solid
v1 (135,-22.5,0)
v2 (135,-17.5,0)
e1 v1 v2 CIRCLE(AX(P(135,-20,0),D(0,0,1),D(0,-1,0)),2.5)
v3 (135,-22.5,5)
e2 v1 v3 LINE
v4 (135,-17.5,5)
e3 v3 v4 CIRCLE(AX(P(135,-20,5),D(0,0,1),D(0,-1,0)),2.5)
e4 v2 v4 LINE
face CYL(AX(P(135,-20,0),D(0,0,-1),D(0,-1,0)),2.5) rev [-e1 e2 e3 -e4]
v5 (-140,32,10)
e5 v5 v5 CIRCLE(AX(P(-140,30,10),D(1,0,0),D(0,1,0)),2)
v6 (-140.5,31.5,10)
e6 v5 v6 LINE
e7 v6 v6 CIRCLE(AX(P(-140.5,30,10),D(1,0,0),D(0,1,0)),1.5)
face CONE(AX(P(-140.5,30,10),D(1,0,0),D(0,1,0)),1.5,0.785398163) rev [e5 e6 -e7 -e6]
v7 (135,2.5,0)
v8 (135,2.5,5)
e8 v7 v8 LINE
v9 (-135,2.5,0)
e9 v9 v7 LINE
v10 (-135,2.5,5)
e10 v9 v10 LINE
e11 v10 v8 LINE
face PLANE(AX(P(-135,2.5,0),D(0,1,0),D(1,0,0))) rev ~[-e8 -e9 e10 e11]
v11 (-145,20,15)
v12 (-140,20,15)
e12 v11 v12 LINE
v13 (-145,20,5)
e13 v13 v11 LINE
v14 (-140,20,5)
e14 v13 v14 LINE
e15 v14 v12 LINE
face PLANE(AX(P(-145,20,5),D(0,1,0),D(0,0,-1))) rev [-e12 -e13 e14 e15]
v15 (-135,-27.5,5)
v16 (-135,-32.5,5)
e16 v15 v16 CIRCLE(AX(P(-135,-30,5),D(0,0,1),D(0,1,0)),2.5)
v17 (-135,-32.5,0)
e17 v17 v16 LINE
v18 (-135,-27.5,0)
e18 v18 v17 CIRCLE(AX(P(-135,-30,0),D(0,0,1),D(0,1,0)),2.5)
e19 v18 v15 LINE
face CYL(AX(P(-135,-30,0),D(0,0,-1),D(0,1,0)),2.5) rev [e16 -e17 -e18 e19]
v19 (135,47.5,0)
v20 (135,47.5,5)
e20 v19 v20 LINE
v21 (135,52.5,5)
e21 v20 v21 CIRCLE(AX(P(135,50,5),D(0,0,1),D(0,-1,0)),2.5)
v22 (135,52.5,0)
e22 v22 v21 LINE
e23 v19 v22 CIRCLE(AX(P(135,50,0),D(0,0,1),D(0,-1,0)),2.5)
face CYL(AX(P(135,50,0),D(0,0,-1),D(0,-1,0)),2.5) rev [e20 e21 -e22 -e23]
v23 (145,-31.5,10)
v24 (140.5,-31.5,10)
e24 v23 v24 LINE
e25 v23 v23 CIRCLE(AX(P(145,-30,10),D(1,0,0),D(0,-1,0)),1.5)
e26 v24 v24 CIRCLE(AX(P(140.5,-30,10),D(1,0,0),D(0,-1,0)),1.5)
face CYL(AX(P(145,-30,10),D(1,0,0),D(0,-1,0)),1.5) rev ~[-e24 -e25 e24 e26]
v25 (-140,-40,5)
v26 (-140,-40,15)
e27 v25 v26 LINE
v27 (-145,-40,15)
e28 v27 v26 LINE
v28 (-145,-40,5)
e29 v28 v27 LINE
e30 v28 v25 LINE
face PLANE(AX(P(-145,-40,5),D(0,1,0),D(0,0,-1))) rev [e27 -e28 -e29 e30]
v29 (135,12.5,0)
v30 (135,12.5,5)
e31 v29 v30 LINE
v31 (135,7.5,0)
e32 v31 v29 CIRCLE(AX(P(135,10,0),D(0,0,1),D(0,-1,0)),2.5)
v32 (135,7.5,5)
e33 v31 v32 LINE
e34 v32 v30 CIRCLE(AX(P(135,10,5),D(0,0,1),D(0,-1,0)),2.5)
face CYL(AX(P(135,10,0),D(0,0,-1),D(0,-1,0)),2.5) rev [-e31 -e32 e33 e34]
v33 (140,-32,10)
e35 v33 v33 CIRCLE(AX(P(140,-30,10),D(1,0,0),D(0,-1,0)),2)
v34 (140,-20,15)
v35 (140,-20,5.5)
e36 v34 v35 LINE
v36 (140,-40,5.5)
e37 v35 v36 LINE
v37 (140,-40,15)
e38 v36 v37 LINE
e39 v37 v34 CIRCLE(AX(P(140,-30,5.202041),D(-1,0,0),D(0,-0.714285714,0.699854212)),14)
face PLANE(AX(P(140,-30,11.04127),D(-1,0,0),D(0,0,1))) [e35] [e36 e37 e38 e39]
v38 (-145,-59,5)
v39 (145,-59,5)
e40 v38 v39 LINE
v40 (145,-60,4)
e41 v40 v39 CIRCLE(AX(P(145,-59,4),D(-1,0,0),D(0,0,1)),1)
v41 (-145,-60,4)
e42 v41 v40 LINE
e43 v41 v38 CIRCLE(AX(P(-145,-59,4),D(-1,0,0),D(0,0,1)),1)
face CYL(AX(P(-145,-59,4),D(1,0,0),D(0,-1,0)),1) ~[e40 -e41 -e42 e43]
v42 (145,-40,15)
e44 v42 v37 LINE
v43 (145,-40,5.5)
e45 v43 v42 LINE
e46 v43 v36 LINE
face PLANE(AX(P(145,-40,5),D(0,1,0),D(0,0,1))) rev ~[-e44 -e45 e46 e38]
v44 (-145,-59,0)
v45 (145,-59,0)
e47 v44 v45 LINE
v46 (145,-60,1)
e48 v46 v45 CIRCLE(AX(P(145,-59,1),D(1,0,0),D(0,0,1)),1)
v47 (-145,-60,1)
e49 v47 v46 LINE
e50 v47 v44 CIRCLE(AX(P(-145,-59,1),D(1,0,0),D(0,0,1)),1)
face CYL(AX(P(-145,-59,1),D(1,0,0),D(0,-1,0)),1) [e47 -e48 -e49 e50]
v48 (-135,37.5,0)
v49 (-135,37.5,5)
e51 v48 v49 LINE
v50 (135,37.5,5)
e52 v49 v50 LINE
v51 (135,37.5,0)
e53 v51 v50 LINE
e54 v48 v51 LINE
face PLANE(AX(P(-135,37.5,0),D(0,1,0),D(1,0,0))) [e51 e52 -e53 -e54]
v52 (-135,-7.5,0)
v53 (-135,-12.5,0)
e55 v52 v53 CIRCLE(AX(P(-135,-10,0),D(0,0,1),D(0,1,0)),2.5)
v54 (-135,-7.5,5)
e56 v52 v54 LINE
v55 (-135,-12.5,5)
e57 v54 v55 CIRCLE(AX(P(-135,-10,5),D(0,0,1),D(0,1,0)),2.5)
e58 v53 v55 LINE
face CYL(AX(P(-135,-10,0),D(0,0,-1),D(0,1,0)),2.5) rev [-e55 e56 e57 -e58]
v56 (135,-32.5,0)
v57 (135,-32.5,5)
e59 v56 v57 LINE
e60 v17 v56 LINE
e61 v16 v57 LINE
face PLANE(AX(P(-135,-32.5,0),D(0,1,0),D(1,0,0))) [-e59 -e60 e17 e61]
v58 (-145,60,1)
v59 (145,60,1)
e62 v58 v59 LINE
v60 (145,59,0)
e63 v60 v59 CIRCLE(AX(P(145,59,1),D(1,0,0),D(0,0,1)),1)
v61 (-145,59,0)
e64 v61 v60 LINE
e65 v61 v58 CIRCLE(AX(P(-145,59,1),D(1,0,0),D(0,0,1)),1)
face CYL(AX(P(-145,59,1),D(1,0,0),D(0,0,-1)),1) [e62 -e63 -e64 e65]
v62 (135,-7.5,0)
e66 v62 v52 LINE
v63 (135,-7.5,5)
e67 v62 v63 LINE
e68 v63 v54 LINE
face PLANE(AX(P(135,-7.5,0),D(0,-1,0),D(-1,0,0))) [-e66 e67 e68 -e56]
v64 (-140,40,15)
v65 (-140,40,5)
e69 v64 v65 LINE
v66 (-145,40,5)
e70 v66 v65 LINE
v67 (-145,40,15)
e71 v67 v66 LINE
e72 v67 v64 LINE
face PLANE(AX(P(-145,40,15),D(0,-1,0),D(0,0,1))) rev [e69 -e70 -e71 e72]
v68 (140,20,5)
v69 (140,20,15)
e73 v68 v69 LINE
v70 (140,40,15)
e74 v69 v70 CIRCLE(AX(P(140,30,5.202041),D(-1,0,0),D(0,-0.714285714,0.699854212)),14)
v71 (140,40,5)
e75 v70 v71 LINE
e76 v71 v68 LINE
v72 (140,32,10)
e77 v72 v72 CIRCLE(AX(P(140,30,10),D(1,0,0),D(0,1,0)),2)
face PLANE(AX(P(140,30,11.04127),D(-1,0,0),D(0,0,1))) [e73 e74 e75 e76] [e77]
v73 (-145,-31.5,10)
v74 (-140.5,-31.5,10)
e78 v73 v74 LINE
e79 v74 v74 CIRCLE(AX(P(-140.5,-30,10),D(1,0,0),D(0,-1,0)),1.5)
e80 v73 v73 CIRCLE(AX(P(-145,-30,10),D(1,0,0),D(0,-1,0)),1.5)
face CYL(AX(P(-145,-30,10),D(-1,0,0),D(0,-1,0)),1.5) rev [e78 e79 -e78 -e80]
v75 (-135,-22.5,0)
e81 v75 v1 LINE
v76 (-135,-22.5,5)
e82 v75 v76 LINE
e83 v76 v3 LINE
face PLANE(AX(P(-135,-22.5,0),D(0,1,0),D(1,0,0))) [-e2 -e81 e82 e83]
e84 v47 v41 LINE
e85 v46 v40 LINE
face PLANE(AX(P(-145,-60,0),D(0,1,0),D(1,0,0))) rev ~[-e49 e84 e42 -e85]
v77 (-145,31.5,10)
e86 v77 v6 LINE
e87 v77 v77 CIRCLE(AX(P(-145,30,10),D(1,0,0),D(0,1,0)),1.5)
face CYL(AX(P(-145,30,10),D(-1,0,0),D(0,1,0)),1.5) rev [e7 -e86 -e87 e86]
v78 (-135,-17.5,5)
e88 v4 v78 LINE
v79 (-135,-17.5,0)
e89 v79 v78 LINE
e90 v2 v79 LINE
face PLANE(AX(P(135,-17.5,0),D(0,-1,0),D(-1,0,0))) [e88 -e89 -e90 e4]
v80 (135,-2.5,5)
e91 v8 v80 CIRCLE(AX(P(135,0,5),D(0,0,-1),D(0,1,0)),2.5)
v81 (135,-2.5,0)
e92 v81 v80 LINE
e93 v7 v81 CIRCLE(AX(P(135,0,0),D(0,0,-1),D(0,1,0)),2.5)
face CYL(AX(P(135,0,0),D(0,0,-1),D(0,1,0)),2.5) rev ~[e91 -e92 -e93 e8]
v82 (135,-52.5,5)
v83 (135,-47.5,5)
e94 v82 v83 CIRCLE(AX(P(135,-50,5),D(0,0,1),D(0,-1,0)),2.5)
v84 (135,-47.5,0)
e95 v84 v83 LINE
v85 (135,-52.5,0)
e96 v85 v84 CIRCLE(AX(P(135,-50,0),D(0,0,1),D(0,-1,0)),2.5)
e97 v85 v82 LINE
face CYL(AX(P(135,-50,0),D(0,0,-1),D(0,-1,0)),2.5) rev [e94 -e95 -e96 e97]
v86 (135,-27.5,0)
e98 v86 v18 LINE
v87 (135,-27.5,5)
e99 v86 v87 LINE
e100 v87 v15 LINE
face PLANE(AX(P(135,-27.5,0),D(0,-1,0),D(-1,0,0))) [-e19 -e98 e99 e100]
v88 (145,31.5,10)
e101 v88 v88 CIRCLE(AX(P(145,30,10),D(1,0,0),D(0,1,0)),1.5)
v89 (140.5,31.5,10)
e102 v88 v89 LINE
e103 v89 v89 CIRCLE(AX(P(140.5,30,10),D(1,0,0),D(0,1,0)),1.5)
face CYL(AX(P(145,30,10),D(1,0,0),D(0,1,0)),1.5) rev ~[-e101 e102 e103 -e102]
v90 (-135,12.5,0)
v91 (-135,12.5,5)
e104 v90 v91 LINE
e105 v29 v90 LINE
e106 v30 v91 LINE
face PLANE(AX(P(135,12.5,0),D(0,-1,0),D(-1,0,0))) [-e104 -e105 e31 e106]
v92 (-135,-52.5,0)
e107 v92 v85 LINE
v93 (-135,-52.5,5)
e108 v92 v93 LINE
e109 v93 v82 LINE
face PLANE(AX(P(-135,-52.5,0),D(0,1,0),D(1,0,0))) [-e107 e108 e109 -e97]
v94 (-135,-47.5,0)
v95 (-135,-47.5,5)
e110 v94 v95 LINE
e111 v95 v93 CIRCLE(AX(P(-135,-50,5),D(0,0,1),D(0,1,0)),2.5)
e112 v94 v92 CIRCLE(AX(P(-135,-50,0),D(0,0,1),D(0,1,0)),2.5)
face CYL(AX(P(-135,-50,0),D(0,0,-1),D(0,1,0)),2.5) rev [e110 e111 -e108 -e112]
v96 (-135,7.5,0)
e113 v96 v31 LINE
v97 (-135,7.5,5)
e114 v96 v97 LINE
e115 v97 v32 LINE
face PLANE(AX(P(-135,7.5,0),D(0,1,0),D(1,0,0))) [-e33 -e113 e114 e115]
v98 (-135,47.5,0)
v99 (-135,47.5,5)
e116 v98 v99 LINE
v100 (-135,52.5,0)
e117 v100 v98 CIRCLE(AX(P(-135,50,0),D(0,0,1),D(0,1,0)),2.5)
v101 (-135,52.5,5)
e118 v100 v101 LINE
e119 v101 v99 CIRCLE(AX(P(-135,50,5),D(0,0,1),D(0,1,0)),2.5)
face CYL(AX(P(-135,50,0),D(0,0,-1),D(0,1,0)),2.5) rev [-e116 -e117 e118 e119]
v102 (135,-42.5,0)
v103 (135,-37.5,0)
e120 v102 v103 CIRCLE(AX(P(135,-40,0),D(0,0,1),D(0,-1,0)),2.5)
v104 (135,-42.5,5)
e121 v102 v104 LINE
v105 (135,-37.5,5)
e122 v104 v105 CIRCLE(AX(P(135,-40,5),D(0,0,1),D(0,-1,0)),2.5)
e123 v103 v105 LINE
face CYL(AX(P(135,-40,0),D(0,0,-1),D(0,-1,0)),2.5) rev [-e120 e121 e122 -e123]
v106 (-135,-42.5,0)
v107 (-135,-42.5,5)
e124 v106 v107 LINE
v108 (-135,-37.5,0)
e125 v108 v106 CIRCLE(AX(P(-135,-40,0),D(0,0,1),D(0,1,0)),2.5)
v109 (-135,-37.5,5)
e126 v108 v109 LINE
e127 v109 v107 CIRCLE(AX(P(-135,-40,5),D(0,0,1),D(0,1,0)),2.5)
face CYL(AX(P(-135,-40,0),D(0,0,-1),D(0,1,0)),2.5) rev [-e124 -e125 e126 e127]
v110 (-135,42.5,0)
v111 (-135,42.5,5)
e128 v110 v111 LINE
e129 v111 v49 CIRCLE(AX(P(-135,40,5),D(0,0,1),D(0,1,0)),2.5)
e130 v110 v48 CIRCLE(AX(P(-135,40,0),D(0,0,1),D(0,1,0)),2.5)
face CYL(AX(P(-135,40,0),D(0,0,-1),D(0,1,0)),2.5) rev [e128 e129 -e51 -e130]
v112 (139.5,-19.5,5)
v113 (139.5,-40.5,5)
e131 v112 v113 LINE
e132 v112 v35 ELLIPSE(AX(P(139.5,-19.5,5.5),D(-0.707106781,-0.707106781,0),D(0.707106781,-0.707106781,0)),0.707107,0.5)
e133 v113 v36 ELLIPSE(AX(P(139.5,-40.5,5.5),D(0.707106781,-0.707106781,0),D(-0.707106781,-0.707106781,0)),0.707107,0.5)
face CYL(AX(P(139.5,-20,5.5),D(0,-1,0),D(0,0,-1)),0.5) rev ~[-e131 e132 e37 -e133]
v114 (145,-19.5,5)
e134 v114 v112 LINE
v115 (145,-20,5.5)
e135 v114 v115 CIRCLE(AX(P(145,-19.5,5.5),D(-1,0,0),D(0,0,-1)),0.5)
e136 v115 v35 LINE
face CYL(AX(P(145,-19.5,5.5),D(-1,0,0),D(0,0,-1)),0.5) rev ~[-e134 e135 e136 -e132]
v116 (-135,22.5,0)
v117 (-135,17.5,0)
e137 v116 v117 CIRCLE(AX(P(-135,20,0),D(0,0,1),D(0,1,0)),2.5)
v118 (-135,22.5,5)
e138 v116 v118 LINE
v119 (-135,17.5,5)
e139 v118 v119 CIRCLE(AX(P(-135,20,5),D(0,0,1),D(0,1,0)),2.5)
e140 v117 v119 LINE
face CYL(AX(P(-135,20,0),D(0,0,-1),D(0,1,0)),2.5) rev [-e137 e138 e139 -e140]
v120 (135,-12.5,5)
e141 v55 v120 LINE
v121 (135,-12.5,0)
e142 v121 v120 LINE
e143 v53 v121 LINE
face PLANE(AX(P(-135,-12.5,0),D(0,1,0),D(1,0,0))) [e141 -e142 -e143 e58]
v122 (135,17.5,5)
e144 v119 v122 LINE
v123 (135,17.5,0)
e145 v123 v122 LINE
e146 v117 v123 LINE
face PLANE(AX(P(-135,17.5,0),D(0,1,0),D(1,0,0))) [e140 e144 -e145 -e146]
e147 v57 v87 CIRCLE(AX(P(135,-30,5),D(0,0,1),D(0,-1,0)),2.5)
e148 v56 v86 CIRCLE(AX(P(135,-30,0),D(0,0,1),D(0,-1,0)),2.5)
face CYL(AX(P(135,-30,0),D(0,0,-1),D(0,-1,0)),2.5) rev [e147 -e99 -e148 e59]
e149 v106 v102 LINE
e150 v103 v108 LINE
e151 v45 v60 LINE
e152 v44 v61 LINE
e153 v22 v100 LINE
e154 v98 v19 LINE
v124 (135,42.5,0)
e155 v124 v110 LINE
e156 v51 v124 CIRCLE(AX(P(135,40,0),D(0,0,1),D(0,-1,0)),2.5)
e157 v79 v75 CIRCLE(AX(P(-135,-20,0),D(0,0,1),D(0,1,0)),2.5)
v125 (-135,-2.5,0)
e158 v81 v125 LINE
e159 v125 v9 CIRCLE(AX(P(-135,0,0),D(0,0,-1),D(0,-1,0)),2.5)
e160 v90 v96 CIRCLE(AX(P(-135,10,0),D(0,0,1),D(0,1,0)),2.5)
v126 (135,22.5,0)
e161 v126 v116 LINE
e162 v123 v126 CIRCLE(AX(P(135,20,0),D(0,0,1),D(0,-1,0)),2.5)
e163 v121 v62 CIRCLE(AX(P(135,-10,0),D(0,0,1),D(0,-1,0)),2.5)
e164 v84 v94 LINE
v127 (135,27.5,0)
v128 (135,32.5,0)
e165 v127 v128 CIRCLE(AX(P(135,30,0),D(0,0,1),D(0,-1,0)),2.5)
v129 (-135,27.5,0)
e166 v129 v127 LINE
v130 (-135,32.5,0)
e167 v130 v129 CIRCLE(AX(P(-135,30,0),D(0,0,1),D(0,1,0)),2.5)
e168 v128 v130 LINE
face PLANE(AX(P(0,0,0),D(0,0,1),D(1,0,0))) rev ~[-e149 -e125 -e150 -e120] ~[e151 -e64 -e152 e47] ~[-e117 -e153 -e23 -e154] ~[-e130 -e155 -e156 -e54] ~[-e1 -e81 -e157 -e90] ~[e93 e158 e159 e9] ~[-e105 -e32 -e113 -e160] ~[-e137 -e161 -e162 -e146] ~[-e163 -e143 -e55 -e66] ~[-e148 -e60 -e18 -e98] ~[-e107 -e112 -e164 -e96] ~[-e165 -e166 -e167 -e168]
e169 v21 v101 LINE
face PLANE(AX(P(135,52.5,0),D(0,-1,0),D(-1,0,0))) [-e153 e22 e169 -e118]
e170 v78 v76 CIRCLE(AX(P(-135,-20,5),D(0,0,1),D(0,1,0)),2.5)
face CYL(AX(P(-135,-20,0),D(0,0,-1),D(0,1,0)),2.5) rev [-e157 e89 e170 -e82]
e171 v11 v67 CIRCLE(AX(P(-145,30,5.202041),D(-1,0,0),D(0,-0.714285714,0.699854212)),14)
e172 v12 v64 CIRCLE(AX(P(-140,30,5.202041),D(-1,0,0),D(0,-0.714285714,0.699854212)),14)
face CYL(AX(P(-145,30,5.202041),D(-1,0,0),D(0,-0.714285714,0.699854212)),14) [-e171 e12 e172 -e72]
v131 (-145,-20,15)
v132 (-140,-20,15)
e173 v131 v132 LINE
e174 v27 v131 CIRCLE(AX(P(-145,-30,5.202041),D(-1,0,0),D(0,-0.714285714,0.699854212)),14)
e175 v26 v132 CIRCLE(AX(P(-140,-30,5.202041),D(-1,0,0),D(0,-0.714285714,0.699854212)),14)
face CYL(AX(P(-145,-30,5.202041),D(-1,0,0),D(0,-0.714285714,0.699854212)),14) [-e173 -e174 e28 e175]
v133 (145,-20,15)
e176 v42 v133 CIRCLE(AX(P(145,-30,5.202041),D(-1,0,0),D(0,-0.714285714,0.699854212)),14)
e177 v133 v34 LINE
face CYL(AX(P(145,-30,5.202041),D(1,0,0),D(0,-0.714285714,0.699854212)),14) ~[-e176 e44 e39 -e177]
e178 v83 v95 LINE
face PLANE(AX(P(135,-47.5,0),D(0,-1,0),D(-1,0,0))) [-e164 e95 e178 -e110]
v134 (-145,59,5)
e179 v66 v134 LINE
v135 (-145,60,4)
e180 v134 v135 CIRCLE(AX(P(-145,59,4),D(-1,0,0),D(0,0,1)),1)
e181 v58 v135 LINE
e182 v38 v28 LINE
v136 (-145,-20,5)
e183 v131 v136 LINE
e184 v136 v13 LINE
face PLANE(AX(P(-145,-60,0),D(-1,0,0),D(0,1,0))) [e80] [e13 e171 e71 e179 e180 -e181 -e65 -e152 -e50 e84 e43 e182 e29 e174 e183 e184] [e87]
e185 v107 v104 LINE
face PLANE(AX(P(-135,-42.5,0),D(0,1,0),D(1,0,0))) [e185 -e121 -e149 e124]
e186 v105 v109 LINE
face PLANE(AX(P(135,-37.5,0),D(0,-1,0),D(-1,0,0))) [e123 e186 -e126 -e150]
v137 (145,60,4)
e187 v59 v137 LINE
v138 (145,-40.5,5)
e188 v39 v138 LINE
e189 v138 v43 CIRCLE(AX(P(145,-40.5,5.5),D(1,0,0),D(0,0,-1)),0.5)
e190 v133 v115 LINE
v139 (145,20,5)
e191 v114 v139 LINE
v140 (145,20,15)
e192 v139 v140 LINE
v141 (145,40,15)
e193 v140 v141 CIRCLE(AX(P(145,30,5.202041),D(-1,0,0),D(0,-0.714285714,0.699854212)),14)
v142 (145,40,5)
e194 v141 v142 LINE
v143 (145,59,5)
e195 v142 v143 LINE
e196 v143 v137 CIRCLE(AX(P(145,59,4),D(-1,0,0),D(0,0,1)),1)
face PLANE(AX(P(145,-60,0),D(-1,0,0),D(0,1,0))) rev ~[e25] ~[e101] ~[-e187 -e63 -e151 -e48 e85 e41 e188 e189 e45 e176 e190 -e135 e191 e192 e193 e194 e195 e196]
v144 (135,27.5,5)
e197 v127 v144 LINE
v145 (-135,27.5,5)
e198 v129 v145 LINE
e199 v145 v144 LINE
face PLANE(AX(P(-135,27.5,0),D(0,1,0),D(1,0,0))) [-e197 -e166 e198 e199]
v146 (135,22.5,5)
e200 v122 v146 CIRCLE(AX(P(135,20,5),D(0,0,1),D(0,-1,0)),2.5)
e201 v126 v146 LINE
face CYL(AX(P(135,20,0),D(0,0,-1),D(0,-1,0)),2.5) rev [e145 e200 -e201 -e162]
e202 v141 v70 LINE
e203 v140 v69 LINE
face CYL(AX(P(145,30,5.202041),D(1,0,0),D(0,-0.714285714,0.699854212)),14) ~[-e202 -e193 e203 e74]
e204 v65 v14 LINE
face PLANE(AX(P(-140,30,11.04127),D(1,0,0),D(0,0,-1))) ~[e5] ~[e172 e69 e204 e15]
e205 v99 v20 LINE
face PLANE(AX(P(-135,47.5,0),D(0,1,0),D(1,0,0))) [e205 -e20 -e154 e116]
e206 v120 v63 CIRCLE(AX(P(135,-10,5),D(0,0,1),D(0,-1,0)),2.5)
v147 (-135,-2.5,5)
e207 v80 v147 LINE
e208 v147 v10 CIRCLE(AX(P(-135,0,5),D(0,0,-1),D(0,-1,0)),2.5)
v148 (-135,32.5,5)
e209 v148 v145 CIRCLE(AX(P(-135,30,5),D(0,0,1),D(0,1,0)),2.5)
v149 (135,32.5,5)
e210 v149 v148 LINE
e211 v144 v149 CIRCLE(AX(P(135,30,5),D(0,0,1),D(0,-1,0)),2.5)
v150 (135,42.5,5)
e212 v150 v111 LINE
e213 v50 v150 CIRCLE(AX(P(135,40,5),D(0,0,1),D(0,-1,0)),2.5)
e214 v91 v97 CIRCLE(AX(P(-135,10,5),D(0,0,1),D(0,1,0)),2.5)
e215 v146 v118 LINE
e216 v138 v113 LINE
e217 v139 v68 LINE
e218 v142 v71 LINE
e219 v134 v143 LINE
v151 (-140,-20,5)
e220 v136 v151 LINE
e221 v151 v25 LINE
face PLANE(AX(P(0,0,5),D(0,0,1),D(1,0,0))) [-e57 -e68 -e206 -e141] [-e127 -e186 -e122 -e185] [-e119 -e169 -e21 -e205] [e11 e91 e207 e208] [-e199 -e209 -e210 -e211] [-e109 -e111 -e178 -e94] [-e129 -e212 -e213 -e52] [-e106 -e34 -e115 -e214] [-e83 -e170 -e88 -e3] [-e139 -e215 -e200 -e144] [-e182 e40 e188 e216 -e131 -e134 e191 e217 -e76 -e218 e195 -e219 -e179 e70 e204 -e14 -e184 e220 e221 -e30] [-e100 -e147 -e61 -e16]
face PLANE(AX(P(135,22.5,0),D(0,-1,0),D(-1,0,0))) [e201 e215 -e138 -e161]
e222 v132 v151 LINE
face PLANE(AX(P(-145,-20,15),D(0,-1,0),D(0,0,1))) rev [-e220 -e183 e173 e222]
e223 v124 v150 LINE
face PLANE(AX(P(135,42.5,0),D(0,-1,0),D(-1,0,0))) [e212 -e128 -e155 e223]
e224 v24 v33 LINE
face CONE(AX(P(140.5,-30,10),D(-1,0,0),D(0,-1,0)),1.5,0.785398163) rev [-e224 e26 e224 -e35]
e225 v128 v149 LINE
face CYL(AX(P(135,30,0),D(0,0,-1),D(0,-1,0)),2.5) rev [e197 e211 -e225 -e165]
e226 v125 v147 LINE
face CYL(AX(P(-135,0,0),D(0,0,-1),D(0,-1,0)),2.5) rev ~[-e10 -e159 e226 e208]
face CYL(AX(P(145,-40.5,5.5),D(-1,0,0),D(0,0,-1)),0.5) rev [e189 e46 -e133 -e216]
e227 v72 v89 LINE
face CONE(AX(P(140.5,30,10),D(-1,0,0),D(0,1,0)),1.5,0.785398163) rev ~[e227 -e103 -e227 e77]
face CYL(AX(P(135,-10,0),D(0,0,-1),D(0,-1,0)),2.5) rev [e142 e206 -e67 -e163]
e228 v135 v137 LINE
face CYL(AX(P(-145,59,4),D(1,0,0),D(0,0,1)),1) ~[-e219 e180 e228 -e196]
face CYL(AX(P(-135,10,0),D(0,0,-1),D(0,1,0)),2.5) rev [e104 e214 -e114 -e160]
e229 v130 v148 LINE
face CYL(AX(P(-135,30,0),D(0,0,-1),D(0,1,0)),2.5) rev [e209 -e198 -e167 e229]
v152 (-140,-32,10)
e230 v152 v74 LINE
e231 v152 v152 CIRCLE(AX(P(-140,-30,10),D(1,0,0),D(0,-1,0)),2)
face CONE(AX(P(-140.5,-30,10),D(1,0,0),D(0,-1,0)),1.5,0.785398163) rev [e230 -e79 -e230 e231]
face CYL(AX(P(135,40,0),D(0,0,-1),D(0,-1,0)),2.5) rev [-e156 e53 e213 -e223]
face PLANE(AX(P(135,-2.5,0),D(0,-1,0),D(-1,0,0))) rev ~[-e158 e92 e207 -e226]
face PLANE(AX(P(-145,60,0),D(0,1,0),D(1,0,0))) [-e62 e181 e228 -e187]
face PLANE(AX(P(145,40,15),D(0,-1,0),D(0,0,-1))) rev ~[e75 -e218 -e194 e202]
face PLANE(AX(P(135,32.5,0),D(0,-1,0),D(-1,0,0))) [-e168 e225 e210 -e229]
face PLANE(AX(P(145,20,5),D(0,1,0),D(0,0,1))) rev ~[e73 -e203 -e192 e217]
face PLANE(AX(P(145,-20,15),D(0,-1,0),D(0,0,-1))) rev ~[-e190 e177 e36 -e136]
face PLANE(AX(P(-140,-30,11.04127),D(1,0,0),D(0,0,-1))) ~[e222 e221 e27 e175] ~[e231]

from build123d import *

# Parameters (mm, degrees)
ESQUISSE1_W        = 290
ESQUISSE1_H        = 120
BOSS_EXTRU_1_DEPTH = 5
CONG_1_R           = 1
CONG_2_R           = 1
ESQUISSE2_R        = 1.5
BOSS_EXTRU_2_DEPTH = 5
CONG_3_R           = 0.5
CHANFREIN1_SIZE    = 0.5


with BuildPart() as part:
    # Esquisse1 → Boss.-Extru.1 (new body)
    with BuildSketch(Plane.XY):
        Rectangle(ESQUISSE1_W, ESQUISSE1_H)
        with BuildLine():
            Line((-135, 2.5), (135, 2.5))
            ThreePointArc((135, 2.5), (137.5, 0), (135, -2.5))
            Line((135, -2.5), (-135, -2.5))
            ThreePointArc((-135, -2.5), (-137.5, 0), (-135, 2.5))
        make_face(mode=Mode.SUBTRACT)
        with BuildLine():
            Line((-135, 7.5), (135, 7.5))
            ThreePointArc((135, 7.5), (137.5, 10), (135, 12.5))
            Line((135, 12.5), (-135, 12.5))
            ThreePointArc((-135, 12.5), (-137.5, 10), (-135, 7.5))
        make_face(mode=Mode.SUBTRACT)
        with BuildLine():
            Line((-135, 17.5), (135, 17.5))
            ThreePointArc((135, 17.5), (137.5, 20), (135, 22.5))
            Line((135, 22.5), (-135, 22.5))
            ThreePointArc((-135, 22.5), (-137.5, 20), (-135, 17.5))
        make_face(mode=Mode.SUBTRACT)
        with BuildLine():
            Line((-135, 27.5), (135, 27.5))
            ThreePointArc((135, 27.5), (137.5, 30), (135, 32.5))
            Line((135, 32.5), (-135, 32.5))
            ThreePointArc((-135, 32.5), (-137.5, 30), (-135, 27.5))
        make_face(mode=Mode.SUBTRACT)
        with BuildLine():
            Line((-135, 37.5), (135, 37.5))
            ThreePointArc((135, 37.5), (137.5, 40), (135, 42.5))
            Line((135, 42.5), (-135, 42.5))
            ThreePointArc((-135, 42.5), (-137.5, 40), (-135, 37.5))
        make_face(mode=Mode.SUBTRACT)
        with BuildLine():
            Line((-135, 47.5), (135, 47.5))
            ThreePointArc((135, 47.5), (137.5, 50), (135, 52.5))
            Line((135, 52.5), (-135, 52.5))
            ThreePointArc((-135, 52.5), (-137.5, 50), (-135, 47.5))
        make_face(mode=Mode.SUBTRACT)
        with BuildLine():
            Line((-135, -12.5), (135, -12.5))
            ThreePointArc((135, -12.5), (137.5, -10), (135, -7.5))
            Line((135, -7.5), (-135, -7.5))
            ThreePointArc((-135, -7.5), (-137.5, -10), (-135, -12.5))
        make_face(mode=Mode.SUBTRACT)
        with BuildLine():
            Line((-135, -22.5), (135, -22.5))
            ThreePointArc((135, -22.5), (137.5, -20), (135, -17.5))
            Line((135, -17.5), (-135, -17.5))
            ThreePointArc((-135, -17.5), (-137.5, -20), (-135, -22.5))
        make_face(mode=Mode.SUBTRACT)
        with BuildLine():
            Line((-135, -32.5), (135, -32.5))
            ThreePointArc((135, -32.5), (137.5, -30), (135, -27.5))
            Line((135, -27.5), (-135, -27.5))
            ThreePointArc((-135, -27.5), (-137.5, -30), (-135, -32.5))
        make_face(mode=Mode.SUBTRACT)
        with BuildLine():
            Line((-135, -42.5), (135, -42.5))
            ThreePointArc((135, -42.5), (137.5, -40), (135, -37.5))
            Line((135, -37.5), (-135, -37.5))
            ThreePointArc((-135, -37.5), (-137.5, -40), (-135, -42.5))
        make_face(mode=Mode.SUBTRACT)
        with BuildLine():
            Line((-135, -52.5), (135, -52.5))
            ThreePointArc((135, -52.5), (137.5, -50), (135, -47.5))
            Line((135, -47.5), (-135, -47.5))
            ThreePointArc((-135, -47.5), (-137.5, -50), (-135, -52.5))
        make_face(mode=Mode.SUBTRACT)
    extrude(amount=BOSS_EXTRU_1_DEPTH)

    # Congé1
    cong_1_edges = [part.edges().sort_by_distance(p)[0] for p in [
        (0, -60, 5),
        (0, -60, 0),
    ]]
    fillet(cong_1_edges, radius=CONG_1_R)

    # Congé2
    cong_2_edges = [part.edges().sort_by_distance(p)[0] for p in [
        (0, 60, 0),
        (0, 60, 5),
    ]]
    fillet(cong_2_edges, radius=CONG_2_R)

    # Esquisse2 → Boss.-Extru.2 (add)
    # profile 1 of 2: a face of its own
    with BuildSketch(Plane(origin=(145, 0, 0), x_dir=(0, 0, -1), z_dir=(1, 0, 0))):
        with BuildLine():
            Line((-5, 20), (-15, 20))
            ThreePointArc((-15, 20), (-19.202041029, 30), (-15, 40))
            Line((-15, 40), (-5, 40))
            Line((-5, 40), (-5, 20))
        make_face()
        with Locations(Location((-10, 30, 0), (0, 0, 90))):
            Circle(ESQUISSE2_R, mode=Mode.SUBTRACT)
    # profile 2 of 2: a face of its own
    with BuildSketch(Plane(origin=(145, 0, 0), x_dir=(0, 0, -1), z_dir=(1, 0, 0))):
        with BuildLine():
            Line((-5, -20), (-5, -40))
            Line((-5, -40), (-15, -40))
            ThreePointArc((-15, -40), (-19.202041029, -30), (-15, -20))
            Line((-15, -20), (-5, -20))
        make_face()
        with Locations(Location((-10, -30, 0), (0, 0, 270))):
            Circle(ESQUISSE2_R, mode=Mode.SUBTRACT)
    boss_extru_2 = extrude(amount=-BOSS_EXTRU_2_DEPTH)

    # Symétrie1: Boss.-Extru.2 across plane
    add(boss_extru_2.mirror(Plane(origin=(0, 0, 0), x_dir=(0, 0, 1), z_dir=(1, 0, 0))))

    # Congé3
    cong_3_edges = [part.edges().sort_by_distance(p)[0] for p in [
        (140, -30, 5),
        (142.5, -20, 5),
        (142.5, -40, 5),
    ]]
    fillet(cong_3_edges, radius=CONG_3_R)

    # Chanfrein1
    chanfrein1_edges = [part.edges().sort_by_distance(p)[0] for p in [
        (140, 28.5, 10),
        (140, -28.5, 10),
        (-140, 28.5, 10),
        (-140, -28.5, 10),
    ]]
    chamfer(chanfrein1_edges, length=CHANFREIN1_SIZE)


solid = part.part
